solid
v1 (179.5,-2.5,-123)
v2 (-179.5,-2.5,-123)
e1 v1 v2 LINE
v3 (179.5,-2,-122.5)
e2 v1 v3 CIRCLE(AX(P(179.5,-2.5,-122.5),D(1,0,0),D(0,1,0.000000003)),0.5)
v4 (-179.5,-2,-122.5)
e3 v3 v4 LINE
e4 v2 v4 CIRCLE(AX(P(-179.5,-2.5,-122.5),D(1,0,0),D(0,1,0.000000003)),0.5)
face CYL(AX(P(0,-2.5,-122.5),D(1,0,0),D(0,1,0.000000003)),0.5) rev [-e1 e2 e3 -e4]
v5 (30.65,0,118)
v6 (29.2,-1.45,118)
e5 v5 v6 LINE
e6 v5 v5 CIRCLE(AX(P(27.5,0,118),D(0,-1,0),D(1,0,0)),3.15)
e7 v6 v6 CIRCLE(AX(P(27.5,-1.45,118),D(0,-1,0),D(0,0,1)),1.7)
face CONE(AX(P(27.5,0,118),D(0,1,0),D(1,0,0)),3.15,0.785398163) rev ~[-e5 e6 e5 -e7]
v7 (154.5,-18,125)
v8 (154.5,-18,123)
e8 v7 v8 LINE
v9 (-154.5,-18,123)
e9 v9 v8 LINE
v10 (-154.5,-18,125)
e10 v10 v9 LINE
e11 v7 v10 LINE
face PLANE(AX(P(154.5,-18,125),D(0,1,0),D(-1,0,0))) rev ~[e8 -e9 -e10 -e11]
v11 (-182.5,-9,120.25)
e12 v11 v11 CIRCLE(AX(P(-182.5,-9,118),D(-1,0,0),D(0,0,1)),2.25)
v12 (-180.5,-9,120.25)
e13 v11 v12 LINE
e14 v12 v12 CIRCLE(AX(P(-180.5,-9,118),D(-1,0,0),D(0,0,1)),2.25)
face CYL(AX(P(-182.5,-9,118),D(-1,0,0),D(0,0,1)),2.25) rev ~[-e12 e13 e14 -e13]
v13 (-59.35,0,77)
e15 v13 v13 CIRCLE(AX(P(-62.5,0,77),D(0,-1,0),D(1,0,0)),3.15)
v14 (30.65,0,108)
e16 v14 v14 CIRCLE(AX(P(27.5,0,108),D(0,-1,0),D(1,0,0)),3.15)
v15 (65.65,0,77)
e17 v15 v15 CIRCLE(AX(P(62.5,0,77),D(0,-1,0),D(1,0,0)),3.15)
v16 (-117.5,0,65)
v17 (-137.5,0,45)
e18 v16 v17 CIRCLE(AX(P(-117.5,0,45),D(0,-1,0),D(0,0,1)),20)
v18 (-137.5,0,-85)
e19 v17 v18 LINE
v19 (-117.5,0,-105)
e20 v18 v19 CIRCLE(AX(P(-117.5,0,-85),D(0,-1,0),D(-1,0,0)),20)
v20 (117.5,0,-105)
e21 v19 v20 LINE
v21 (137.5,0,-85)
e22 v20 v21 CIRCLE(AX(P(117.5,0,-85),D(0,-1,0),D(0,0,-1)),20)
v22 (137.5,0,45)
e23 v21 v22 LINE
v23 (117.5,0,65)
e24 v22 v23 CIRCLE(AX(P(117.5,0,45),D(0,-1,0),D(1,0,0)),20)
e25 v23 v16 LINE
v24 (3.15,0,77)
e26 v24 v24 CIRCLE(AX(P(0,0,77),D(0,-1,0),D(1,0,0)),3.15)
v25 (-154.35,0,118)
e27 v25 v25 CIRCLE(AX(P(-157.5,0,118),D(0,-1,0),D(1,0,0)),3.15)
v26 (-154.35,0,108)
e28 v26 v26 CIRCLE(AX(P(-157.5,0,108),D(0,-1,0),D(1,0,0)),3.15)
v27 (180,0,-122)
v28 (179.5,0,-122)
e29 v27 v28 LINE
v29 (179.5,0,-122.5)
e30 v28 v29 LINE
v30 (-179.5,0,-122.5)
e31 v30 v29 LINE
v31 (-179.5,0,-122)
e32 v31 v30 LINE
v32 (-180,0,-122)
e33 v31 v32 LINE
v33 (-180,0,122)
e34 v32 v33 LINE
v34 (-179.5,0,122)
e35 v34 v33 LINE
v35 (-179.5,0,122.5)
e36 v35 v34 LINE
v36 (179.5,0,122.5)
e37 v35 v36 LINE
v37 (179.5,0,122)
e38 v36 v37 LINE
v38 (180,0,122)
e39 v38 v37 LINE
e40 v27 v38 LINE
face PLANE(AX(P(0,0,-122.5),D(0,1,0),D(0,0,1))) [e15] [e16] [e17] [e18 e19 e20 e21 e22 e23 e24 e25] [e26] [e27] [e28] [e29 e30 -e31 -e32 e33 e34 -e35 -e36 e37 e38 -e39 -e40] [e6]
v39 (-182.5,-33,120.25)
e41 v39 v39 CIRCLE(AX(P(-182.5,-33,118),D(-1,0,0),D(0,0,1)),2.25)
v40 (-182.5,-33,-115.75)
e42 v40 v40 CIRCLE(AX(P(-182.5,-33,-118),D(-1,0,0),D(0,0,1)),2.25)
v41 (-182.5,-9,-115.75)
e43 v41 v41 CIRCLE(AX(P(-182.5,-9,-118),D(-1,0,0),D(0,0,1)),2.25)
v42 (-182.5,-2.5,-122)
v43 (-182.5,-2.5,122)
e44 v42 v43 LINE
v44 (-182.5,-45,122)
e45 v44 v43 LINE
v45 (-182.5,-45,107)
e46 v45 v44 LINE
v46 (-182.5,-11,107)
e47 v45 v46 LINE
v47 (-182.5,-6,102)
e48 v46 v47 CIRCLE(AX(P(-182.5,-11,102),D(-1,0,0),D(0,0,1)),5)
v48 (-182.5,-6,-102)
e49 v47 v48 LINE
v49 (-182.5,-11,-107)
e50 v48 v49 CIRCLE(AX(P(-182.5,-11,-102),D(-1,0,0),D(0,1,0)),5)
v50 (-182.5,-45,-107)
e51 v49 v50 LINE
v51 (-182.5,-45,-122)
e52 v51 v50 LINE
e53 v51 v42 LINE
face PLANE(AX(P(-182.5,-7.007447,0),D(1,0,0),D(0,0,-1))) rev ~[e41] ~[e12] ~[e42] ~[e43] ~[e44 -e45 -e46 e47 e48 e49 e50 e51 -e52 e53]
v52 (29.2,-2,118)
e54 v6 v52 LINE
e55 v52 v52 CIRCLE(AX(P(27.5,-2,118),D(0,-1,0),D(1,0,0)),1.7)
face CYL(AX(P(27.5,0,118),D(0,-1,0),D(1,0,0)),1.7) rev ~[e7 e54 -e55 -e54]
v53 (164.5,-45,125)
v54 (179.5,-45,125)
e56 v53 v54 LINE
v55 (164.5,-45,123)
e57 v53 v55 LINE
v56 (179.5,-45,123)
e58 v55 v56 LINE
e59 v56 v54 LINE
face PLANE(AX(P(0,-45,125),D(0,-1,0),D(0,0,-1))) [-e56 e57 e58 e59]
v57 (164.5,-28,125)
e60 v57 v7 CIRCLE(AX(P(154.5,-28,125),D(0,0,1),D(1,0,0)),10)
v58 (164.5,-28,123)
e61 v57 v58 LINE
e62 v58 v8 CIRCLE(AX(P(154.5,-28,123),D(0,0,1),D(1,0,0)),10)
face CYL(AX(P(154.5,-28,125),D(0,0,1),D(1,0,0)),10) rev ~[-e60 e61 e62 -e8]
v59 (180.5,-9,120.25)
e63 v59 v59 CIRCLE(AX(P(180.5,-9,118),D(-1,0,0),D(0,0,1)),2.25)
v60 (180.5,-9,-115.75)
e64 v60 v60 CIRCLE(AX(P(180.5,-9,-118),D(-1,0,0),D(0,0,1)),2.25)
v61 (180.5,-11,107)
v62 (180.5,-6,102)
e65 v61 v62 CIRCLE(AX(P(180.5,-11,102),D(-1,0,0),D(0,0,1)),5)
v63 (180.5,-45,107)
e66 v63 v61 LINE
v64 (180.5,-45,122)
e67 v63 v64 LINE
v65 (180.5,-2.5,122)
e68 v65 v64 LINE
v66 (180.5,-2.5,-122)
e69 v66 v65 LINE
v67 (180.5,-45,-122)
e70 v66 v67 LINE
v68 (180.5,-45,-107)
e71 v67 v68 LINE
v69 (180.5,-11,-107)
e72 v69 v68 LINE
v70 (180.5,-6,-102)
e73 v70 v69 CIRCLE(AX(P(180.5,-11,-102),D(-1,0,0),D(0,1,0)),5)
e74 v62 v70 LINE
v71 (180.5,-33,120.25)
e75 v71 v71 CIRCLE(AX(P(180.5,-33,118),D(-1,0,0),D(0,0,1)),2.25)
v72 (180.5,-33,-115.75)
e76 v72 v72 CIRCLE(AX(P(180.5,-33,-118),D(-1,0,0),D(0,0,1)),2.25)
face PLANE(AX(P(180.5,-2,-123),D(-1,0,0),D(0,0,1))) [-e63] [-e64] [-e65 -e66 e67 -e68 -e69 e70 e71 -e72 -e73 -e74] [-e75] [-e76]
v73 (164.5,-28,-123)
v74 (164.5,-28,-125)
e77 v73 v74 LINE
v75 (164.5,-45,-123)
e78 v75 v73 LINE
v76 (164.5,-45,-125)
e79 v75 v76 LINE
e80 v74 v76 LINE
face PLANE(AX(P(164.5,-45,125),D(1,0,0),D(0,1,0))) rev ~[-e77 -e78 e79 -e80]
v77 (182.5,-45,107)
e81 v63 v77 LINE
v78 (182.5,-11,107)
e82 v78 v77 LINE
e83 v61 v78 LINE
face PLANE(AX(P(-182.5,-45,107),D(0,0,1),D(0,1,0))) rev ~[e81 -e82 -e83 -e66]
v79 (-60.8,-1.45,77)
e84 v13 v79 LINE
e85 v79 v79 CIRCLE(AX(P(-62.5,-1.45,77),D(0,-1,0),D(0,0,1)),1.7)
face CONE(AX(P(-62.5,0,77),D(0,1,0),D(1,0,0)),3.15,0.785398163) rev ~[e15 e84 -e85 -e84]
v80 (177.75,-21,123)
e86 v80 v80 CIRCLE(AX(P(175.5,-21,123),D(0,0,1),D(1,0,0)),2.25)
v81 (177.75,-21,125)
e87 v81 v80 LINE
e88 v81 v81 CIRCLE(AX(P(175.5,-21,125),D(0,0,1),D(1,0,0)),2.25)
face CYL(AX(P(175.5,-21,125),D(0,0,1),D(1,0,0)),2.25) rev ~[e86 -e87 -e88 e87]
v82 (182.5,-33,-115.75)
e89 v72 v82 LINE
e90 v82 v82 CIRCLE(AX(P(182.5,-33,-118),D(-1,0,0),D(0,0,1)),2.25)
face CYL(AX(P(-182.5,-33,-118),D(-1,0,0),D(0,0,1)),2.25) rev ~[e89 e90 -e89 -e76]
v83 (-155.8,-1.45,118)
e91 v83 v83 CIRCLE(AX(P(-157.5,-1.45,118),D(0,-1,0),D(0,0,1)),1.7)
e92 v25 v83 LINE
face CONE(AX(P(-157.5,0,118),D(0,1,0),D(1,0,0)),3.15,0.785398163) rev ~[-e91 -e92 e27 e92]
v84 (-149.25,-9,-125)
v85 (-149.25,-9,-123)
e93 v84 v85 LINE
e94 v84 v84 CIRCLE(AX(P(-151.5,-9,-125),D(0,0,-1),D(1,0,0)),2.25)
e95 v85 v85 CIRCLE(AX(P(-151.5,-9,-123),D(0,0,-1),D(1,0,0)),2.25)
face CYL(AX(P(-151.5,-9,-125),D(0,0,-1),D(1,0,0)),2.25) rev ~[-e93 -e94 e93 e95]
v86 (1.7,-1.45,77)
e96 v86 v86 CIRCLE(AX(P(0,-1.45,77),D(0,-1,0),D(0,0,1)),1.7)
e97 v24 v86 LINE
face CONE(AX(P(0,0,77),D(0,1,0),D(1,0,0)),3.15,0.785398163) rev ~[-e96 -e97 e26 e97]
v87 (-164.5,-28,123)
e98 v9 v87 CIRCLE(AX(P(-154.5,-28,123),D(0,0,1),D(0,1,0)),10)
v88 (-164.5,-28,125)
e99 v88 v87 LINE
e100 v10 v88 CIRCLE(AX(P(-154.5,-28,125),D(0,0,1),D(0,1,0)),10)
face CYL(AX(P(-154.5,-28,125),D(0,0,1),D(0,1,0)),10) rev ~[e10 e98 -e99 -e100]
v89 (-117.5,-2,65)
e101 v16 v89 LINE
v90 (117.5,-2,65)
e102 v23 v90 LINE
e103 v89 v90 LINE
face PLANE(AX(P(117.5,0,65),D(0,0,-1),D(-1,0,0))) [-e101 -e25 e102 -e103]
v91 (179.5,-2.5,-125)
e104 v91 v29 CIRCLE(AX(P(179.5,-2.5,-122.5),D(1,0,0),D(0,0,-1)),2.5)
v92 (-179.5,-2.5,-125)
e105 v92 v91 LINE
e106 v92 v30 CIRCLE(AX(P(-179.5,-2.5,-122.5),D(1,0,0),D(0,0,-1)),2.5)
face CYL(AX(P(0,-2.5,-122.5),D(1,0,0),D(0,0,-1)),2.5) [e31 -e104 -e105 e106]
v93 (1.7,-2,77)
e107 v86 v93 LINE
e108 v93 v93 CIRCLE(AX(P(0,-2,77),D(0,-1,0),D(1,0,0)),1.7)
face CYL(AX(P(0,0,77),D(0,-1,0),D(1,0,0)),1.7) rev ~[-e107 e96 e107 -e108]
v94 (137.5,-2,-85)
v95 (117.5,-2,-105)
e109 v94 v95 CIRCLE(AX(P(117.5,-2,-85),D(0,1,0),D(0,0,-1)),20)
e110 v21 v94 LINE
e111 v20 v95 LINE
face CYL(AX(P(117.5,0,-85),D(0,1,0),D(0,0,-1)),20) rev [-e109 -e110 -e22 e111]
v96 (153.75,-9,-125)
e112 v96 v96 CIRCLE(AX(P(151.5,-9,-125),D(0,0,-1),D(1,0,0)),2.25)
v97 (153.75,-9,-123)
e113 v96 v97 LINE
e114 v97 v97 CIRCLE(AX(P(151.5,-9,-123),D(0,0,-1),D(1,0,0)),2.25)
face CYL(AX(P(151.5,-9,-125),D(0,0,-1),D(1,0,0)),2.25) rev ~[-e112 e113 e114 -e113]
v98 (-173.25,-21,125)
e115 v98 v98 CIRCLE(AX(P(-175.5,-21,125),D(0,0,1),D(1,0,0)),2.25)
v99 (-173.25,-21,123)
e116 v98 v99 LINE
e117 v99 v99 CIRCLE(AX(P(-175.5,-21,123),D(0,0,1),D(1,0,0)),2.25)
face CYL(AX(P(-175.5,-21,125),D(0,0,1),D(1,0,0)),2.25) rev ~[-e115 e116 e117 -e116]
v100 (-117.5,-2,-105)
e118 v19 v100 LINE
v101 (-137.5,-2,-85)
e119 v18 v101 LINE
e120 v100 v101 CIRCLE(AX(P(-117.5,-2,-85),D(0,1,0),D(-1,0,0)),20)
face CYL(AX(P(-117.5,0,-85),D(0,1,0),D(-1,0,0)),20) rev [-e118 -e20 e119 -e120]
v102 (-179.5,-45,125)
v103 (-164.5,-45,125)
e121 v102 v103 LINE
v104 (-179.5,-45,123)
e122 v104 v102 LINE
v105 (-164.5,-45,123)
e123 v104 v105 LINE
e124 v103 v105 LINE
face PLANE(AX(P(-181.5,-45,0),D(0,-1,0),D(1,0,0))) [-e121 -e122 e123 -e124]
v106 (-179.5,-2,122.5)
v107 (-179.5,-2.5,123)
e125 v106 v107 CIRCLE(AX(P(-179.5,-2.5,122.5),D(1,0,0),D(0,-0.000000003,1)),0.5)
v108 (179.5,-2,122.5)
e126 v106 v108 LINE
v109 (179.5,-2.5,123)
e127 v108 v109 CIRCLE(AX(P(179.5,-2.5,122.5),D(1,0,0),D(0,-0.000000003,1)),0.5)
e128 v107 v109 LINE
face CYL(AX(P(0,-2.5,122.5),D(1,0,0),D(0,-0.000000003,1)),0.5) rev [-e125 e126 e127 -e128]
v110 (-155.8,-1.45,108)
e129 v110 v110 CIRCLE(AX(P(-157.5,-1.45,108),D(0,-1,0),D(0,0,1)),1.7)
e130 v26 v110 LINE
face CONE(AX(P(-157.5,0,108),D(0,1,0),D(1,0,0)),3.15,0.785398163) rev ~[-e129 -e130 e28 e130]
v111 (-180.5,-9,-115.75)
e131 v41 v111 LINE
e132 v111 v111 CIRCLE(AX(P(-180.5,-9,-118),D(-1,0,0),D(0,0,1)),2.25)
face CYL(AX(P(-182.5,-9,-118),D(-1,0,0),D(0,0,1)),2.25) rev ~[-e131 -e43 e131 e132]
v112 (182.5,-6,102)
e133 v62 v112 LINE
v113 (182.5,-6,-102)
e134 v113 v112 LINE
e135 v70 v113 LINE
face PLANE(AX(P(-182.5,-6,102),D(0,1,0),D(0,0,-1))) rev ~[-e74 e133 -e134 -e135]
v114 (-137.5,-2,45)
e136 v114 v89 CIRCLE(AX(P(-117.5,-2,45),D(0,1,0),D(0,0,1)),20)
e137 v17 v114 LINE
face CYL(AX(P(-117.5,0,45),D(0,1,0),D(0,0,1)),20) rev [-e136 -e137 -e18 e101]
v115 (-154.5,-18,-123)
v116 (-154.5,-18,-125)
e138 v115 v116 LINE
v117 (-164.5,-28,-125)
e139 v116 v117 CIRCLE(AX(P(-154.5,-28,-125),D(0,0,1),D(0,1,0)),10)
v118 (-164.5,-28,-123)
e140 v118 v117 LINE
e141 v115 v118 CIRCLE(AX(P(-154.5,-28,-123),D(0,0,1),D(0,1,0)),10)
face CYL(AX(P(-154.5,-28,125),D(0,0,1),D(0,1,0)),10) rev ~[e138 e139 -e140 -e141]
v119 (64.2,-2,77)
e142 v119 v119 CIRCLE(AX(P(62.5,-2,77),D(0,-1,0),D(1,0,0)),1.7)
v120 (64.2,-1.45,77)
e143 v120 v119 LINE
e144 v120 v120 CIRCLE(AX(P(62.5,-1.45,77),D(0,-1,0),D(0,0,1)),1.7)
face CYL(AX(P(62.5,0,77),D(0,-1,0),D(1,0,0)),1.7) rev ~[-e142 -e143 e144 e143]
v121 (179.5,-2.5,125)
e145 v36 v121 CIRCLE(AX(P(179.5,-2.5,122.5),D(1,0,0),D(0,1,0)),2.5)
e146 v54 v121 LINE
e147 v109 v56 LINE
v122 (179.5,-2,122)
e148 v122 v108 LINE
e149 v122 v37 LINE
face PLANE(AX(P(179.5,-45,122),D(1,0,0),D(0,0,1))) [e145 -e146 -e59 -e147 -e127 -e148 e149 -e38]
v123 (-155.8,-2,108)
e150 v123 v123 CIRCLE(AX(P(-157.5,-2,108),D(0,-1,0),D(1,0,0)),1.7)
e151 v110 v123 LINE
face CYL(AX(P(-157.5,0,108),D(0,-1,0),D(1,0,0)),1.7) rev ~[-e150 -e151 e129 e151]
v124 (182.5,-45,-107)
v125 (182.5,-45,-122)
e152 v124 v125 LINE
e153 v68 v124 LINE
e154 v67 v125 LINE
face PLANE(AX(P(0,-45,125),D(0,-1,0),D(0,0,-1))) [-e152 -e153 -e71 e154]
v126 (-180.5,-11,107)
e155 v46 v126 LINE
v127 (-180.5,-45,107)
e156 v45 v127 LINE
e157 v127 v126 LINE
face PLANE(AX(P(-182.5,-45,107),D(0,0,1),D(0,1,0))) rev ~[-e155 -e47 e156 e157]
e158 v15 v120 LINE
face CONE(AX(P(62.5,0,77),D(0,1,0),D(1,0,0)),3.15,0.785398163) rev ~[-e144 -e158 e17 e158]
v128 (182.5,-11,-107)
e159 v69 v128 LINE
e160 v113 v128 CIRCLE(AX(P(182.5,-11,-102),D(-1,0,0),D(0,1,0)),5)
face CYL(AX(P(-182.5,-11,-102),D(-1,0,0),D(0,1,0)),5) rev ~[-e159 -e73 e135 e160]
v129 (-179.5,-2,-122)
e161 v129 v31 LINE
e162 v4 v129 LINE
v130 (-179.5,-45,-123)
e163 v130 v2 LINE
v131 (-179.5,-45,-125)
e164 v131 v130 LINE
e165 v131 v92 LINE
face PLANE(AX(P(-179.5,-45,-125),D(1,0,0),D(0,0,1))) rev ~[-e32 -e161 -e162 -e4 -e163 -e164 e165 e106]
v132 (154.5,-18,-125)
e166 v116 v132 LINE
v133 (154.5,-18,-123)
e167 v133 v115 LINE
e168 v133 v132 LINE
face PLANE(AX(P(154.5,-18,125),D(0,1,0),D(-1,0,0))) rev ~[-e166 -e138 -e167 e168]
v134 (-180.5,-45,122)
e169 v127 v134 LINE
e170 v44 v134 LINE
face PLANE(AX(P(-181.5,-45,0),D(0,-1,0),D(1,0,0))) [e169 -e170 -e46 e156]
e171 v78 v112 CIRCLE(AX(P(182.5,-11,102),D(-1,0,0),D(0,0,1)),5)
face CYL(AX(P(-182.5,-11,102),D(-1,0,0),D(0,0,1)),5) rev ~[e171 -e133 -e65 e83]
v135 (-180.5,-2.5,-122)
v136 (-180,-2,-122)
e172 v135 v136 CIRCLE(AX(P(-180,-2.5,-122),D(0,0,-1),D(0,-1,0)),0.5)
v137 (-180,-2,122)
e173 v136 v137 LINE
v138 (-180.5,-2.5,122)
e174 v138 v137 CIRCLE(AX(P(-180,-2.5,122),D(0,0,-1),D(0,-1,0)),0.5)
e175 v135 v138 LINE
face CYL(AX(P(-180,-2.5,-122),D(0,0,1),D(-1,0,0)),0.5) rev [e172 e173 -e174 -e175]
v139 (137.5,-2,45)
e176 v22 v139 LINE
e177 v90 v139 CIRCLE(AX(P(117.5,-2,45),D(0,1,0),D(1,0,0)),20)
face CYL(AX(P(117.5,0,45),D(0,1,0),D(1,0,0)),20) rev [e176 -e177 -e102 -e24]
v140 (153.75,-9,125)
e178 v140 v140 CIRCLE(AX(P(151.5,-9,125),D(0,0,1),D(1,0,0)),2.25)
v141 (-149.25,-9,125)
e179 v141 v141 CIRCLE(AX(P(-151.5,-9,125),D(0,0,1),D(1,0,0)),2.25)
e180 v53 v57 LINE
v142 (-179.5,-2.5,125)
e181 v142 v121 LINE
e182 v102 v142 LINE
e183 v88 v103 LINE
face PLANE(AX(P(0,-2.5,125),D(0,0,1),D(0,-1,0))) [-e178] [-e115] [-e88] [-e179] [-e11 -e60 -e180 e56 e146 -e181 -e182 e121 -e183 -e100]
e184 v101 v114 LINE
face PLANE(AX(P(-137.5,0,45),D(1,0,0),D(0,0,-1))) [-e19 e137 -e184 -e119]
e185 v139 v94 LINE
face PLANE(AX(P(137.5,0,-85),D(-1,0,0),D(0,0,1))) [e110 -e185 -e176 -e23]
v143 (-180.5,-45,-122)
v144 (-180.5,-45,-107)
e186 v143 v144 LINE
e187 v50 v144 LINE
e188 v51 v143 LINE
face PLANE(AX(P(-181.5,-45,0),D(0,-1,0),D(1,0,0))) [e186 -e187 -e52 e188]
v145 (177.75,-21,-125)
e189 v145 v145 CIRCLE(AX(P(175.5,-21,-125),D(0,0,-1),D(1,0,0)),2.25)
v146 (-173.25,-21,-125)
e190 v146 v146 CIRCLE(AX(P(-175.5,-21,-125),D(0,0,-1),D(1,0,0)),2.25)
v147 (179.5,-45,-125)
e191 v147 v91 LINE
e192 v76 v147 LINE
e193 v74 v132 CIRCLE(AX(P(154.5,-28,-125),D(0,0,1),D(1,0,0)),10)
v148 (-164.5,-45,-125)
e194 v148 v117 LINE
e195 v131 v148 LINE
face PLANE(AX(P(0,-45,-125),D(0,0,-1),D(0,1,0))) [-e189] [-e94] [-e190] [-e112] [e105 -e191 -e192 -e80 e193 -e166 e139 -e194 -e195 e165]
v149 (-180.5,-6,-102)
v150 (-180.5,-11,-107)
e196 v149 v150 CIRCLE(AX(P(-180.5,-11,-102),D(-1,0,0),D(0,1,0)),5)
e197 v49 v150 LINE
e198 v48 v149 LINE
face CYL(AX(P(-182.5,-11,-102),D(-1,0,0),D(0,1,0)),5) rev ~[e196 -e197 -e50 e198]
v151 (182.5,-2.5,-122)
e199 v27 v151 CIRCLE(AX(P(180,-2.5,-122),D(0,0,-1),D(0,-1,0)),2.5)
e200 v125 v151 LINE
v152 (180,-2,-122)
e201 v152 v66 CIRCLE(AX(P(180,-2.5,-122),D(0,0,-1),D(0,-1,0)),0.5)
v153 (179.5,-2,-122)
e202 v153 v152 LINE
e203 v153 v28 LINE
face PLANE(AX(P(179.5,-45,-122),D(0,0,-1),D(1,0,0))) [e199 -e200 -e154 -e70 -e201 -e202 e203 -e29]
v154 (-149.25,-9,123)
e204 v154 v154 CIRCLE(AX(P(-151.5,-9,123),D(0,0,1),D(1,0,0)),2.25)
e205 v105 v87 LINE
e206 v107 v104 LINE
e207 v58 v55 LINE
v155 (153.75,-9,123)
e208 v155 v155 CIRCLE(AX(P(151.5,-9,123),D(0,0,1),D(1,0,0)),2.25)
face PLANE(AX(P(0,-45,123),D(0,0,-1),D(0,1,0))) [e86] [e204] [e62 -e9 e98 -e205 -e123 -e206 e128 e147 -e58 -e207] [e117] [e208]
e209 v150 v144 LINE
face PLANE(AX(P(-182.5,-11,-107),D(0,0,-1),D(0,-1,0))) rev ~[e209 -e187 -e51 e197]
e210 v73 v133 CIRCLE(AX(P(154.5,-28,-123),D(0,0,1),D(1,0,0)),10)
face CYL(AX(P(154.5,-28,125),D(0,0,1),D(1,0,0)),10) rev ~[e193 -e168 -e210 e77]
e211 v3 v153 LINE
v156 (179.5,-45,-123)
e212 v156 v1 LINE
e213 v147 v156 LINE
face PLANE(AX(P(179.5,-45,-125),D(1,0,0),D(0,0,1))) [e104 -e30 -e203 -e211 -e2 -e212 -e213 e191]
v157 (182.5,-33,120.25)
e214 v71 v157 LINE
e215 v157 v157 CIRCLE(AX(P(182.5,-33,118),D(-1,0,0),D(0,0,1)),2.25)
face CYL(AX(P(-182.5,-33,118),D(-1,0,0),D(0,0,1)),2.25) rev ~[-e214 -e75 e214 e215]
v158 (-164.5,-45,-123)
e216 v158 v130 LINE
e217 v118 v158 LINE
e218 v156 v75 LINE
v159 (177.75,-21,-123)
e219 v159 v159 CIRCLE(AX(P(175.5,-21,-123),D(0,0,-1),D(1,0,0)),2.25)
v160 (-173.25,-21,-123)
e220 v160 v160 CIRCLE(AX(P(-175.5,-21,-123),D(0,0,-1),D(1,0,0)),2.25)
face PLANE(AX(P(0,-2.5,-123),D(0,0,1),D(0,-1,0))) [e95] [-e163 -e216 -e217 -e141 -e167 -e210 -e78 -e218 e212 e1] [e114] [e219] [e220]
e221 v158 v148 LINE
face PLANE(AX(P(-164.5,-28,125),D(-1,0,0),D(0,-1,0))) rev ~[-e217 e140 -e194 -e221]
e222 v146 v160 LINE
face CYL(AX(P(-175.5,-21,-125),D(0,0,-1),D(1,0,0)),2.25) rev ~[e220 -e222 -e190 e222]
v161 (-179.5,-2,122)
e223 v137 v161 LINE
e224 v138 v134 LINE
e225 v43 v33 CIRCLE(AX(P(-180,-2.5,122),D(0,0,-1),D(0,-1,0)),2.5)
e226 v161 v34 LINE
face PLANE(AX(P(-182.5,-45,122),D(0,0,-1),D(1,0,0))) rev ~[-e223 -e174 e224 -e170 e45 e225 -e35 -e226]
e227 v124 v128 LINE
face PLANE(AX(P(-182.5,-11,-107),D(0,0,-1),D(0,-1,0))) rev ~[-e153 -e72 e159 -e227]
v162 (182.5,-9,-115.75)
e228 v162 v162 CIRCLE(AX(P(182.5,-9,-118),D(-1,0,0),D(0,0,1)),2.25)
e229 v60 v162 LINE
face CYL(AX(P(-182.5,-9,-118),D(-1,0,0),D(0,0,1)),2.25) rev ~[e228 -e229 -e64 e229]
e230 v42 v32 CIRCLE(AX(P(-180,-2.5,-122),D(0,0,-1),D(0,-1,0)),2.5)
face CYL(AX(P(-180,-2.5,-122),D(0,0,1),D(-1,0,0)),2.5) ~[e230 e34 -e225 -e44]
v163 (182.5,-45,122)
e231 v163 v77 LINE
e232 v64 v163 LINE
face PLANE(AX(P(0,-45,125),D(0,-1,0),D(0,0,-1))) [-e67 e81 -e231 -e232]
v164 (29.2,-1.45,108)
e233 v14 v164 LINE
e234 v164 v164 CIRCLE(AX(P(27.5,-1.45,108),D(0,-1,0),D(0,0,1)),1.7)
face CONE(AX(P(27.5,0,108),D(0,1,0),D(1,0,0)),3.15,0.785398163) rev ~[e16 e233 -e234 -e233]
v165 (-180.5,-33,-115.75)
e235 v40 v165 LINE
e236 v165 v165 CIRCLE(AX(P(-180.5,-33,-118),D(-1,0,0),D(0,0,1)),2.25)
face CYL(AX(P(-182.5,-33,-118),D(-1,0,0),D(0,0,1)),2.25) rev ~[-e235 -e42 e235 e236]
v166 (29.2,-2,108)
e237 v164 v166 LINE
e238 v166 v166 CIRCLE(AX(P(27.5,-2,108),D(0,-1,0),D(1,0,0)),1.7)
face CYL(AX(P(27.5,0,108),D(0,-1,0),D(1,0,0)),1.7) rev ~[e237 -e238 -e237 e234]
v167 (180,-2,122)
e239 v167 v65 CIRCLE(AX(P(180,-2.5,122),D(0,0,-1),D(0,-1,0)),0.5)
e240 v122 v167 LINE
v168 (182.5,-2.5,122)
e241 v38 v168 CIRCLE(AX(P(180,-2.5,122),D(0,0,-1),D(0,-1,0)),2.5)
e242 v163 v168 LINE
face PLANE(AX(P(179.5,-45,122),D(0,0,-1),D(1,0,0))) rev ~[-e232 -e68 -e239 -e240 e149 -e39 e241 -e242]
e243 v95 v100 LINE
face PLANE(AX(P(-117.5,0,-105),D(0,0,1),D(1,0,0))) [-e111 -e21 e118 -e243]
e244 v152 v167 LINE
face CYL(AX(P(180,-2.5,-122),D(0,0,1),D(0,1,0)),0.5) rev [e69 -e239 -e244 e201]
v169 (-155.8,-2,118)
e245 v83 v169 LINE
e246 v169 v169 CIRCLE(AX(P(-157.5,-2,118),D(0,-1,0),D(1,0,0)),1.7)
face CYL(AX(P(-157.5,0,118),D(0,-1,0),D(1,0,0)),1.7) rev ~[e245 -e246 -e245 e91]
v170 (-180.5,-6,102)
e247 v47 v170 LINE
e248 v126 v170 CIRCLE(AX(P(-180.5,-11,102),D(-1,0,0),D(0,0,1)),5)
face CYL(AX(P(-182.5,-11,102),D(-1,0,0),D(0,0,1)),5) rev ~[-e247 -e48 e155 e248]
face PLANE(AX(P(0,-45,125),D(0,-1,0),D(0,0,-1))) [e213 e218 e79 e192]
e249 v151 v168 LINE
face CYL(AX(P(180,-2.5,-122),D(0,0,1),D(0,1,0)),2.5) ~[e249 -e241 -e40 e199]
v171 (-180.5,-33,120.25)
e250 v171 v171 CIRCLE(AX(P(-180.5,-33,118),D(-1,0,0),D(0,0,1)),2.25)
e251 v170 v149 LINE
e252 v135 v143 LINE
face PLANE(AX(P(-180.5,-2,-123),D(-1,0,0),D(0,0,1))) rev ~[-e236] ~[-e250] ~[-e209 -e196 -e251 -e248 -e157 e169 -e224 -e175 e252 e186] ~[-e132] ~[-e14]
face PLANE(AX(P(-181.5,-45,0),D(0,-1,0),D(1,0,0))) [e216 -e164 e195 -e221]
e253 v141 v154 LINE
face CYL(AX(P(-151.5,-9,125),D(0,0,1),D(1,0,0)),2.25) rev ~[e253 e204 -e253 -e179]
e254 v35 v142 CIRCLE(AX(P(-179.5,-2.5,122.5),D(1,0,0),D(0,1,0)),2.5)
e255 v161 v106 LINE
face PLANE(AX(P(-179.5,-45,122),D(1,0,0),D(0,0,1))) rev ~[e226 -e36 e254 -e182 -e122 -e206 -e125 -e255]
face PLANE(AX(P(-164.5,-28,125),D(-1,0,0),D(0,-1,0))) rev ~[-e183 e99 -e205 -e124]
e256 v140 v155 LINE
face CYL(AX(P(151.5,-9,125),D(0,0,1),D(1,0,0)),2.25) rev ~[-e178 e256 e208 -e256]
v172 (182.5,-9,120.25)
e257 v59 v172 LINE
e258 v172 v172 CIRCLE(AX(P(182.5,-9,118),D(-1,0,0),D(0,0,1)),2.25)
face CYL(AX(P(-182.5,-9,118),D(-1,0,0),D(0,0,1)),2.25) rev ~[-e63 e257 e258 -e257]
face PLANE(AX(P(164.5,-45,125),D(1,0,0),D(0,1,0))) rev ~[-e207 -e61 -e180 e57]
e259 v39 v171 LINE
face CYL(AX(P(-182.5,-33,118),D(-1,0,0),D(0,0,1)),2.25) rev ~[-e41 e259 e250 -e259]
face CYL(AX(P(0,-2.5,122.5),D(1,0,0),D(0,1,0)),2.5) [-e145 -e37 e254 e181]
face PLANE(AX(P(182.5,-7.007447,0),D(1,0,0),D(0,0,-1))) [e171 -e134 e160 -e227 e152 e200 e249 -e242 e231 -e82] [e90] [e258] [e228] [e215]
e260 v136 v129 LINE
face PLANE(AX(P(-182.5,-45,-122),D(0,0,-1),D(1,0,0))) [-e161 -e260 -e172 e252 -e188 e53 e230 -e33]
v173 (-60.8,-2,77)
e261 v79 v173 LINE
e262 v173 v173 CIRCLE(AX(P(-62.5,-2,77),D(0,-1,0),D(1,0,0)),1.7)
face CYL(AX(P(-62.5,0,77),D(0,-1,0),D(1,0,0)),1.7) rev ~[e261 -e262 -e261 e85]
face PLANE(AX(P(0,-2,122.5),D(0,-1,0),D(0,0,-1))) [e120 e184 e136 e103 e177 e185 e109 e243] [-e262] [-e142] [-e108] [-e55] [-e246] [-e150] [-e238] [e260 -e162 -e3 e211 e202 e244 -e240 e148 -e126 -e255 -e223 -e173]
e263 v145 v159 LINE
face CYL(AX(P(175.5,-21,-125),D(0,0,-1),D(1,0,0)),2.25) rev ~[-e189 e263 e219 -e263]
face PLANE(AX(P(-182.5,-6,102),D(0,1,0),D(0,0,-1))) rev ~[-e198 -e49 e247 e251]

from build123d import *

# Parameters (mm, degrees)
BOSS_EXTRUDE1_DEPTH                             = 182.5
CUT_EXTRUDE1_DEPTH                              = 251
CUT_EXTRUDE2_DEPTH                              = 10
SKETCH4_W                                       = 2
SKETCH4_H                                       = 246
BOSS_EXTRUDE2_DEPTH                             = 43
SKETCH5_W                                       = 3
SKETCH5_H                                       = 3
CUT_EXTRUDE3_DEPTH                              = 46
FILLET1_R                                       = 0.5
FILLET2_R                                       = 2.5
CUT_EXTRUDE6_DEPTH                              = 366
SKETCH9_R                                       = 2.25
CUT_EXTRUDE7_DEPTH                              = 366
SKETCH10_R                                      = 2.25
CUT_EXTRUDE8_DEPTH                              = 10
SKETCH11_R                                      = 2.25
CUT_EXTRUDE9_DEPTH                              = 10
SKETCH12_R                                      = 1.5
CUT_EXTRUDE10_DEPTH                             = 10
CSK_FOR_M3_FLAT_HEAD_MACHINE_SCREW1_D           = 3.4
CSK_FOR_M3_FLAT_HEAD_MACHINE_SCREW1_CSINK_D     = 6.3
CSK_FOR_M3_FLAT_HEAD_MACHINE_SCREW1_CSINK_ANGLE = 90


with BuildPart() as part:
    # Sketch1 → Boss-Extrude1 (new body, symmetric)
    with BuildSketch(Plane(origin=(0, 0, 0), x_dir=(0, 0, -1), z_dir=(1, 0, 0))):
        with BuildLine():
            Line((123, -45), (125, -45))
            Line((125, -45), (125, -2.5))
            ThreePointArc((125, -2.5), (124.267766953, -0.732233047), (122.5, 0))
            Line((122.5, 0), (-122.5, 0))
            ThreePointArc((-122.5, 0), (-124.267766953, -0.732233047), (-125, -2.5))
            Line((-125, -2.5), (-125, -45))
            Line((-125, -45), (-123, -45))
            Line((-123, -45), (-123, -2.5))
            ThreePointArc((-123, -2.5), (-122.853553391, -2.146446609), (-122.5, -2))
            Line((-122.5, -2), (122.5, -2))
            ThreePointArc((122.5, -2), (122.853553391, -2.146446609), (123, -2.5))
            Line((123, -2.5), (123, -45))
        make_face()
    extrude(amount=BOSS_EXTRUDE1_DEPTH, both=True)

    # Sketch2 → Cut-Extrude1 (cut, through all)
    with BuildSketch(Plane.XY.offset(125)):
        with BuildLine():
            Line((-164.5, -45), (164.5, -45))
            Line((164.5, -45), (164.5, -28))
            ThreePointArc((164.5, -28), (161.571067812, -20.928932188), (154.5, -18))
            Line((154.5, -18), (-154.5, -18))
            ThreePointArc((-154.5, -18), (-161.571067812, -20.928932188), (-164.5, -28))
            Line((-164.5, -28), (-164.5, -45))
        make_face()
    extrude(amount=-CUT_EXTRUDE1_DEPTH, mode=Mode.SUBTRACT)

    # Sketch3 → Cut-Extrude2 (cut)
    with BuildSketch(Plane(origin=(0, 0, 0), x_dir=(1, 0, 0), z_dir=(0, 1, 0))):
        with BuildLine():
            Line((-117.5, 105), (117.5, 105))
            ThreePointArc((117.5, 105), (131.642135624, 99.142135624), (137.5, 85))
            Line((137.5, 85), (137.5, -45))
            ThreePointArc((137.5, -45), (131.642135624, -59.142135624), (117.5, -65))
            Line((117.5, -65), (-117.5, -65))
            ThreePointArc((-117.5, -65), (-131.642135624, -59.142135624), (-137.5, -45))
            Line((-137.5, -45), (-137.5, 85))
            ThreePointArc((-137.5, 85), (-131.642135624, 99.142135624), (-117.5, 105))
        make_face()
    extrude(amount=-CUT_EXTRUDE2_DEPTH, mode=Mode.SUBTRACT)

    # Sketch4 → Boss-Extrude2 (add)
    with BuildSketch(Plane.XZ.offset(2)):
        with Locations((-181.5, 0)):
            Rectangle(SKETCH4_W, SKETCH4_H)
        with Locations((181.5, 0)):
            Rectangle(SKETCH4_W, SKETCH4_H)
    extrude(amount=BOSS_EXTRUDE2_DEPTH)

    # Sketch5 → Cut-Extrude3 (cut, through all)
    with BuildSketch(Plane.XZ.offset(45)):
        with Locations((-181, 123.5)):
            Rectangle(SKETCH5_W, SKETCH5_H)
        with Locations((-181, -123.5)):
            Rectangle(SKETCH5_W, SKETCH5_H)
        with Locations((181, -123.5)):
            Rectangle(SKETCH5_W, SKETCH5_H)
        with Locations((181, 123.5)):
            Rectangle(SKETCH5_W, SKETCH5_H)
    extrude(amount=-CUT_EXTRUDE3_DEPTH, mode=Mode.SUBTRACT)

    # Fillet1
    fillet1_edges = [part.edges().sort_by_distance(p)[0] for p in [
        (-180.5, -2, 0),
        (180.5, -2, 0),
    ]]
    fillet(fillet1_edges, radius=FILLET1_R)

    # Fillet2
    fillet2_edges = [part.edges().sort_by_distance(p)[0] for p in [
        (-182.5, 0, 0),
        (182.5, 0, 0),
    ]]
    fillet(fillet2_edges, radius=FILLET2_R)

    # Sketch8 → Cut-Extrude6 (cut, through all)
    with BuildSketch(Plane.ZY.offset(182.5)):
        with BuildLine():
            Line((-107, -45), (107, -45))
            Line((107, -45), (107, -11))
            ThreePointArc((107, -11), (105.535533906, -7.464466094), (102, -6))
            Line((102, -6), (-102, -6))
            ThreePointArc((-102, -6), (-105.535533906, -7.464466094), (-107, -11))
            Line((-107, -11), (-107, -45))
        make_face()
    extrude(amount=-CUT_EXTRUDE6_DEPTH, mode=Mode.SUBTRACT)

    # Sketch9 → Cut-Extrude7 (cut, through all)
    with BuildSketch(Plane.ZY.offset(182.5)):
        with Locations((-118, -9)):
            Circle(SKETCH9_R)
        with Locations((-118, -33)):
            Circle(SKETCH9_R)
        with Locations((118, -9)):
            Circle(SKETCH9_R)
        with Locations((118, -33)):
            Circle(SKETCH9_R)
    extrude(amount=-CUT_EXTRUDE7_DEPTH, mode=Mode.SUBTRACT)

    # Sketch10 → Cut-Extrude8 (cut)
    with BuildSketch(Plane.XY.offset(125)):
        with Locations((-151.5, -9)):
            Circle(SKETCH10_R)
        with Locations((175.5, -21)):
            Circle(SKETCH10_R)
        with Locations((151.5, -9)):
            Circle(SKETCH10_R)
        with Locations((-175.5, -21)):
            Circle(SKETCH10_R)
    extrude(amount=-CUT_EXTRUDE8_DEPTH, mode=Mode.SUBTRACT)

    # Sketch11 → Cut-Extrude9 (cut)
    with BuildSketch(Plane(origin=(0, 0, -125), x_dir=(-1, 0, 0), z_dir=(0, 0, -1))):
        with Locations(Location((-175.5, -21, 0), (0, 0, 180))):  # turned: the seam where the file's is
            Circle(SKETCH11_R)
        with Locations(Location((-151.5, -9, 0), (0, 0, 180))):  # turned: the seam where the file's is
            Circle(SKETCH11_R)
        with Locations(Location((151.5, -9, 0), (0, 0, 180))):  # turned: the seam where the file's is
            Circle(SKETCH11_R)
        with Locations(Location((175.5, -21, 0), (0, 0, 180))):  # turned: the seam where the file's is
            Circle(SKETCH11_R)
    extrude(amount=-CUT_EXTRUDE9_DEPTH, mode=Mode.SUBTRACT)

    # Sketch12 → Cut-Extrude10 (cut)
    with BuildSketch(Plane(origin=(0, 0, 0), x_dir=(1, 0, 0), z_dir=(0, 1, 0))):
        with Locations(Location((0, -77, 0), (0, 0, 270))):  # turned: the seam where the file's is
            Circle(SKETCH12_R)
        with Locations(Location((62.5, -77, 0), (0, 0, 270))):  # turned: the seam where the file's is
            Circle(SKETCH12_R)
        with Locations(Location((-62.5, -77, 0), (0, 0, 270))):  # turned: the seam where the file's is
            Circle(SKETCH12_R)
        with Locations(Location((-157.5, -108, 0), (0, 0, 270))):  # turned: the seam where the file's is
            Circle(SKETCH12_R)
        with Locations(Location((-157.5, -118, 0), (0, 0, 270))):  # turned: the seam where the file's is
            Circle(SKETCH12_R)
        with Locations(Location((27.5, -108, 0), (0, 0, 270))):  # turned: the seam where the file's is
            Circle(SKETCH12_R)
        with Locations(Location((27.5, -118, 0), (0, 0, 270))):  # turned: the seam where the file's is
            Circle(SKETCH12_R)
    extrude(amount=-CUT_EXTRUDE10_DEPTH, mode=Mode.SUBTRACT)

    # CSK for M3 Flat Head Machine Screw1 (through all)
    with Locations(Plane(origin=(0, 0, 0), x_dir=(-1, 0, 0), z_dir=(0, 1, 0))):
        with Locations((62.5, 77), (0, 77), (-62.5, 77), (157.5, 108), (157.5, 118), (-27.5, 108), (-27.5, 118)):
            CounterSinkHole(CSK_FOR_M3_FLAT_HEAD_MACHINE_SCREW1_D / 2, CSK_FOR_M3_FLAT_HEAD_MACHINE_SCREW1_CSINK_D / 2, counter_sink_angle=CSK_FOR_M3_FLAT_HEAD_MACHINE_SCREW1_CSINK_ANGLE)


solid = part.part
